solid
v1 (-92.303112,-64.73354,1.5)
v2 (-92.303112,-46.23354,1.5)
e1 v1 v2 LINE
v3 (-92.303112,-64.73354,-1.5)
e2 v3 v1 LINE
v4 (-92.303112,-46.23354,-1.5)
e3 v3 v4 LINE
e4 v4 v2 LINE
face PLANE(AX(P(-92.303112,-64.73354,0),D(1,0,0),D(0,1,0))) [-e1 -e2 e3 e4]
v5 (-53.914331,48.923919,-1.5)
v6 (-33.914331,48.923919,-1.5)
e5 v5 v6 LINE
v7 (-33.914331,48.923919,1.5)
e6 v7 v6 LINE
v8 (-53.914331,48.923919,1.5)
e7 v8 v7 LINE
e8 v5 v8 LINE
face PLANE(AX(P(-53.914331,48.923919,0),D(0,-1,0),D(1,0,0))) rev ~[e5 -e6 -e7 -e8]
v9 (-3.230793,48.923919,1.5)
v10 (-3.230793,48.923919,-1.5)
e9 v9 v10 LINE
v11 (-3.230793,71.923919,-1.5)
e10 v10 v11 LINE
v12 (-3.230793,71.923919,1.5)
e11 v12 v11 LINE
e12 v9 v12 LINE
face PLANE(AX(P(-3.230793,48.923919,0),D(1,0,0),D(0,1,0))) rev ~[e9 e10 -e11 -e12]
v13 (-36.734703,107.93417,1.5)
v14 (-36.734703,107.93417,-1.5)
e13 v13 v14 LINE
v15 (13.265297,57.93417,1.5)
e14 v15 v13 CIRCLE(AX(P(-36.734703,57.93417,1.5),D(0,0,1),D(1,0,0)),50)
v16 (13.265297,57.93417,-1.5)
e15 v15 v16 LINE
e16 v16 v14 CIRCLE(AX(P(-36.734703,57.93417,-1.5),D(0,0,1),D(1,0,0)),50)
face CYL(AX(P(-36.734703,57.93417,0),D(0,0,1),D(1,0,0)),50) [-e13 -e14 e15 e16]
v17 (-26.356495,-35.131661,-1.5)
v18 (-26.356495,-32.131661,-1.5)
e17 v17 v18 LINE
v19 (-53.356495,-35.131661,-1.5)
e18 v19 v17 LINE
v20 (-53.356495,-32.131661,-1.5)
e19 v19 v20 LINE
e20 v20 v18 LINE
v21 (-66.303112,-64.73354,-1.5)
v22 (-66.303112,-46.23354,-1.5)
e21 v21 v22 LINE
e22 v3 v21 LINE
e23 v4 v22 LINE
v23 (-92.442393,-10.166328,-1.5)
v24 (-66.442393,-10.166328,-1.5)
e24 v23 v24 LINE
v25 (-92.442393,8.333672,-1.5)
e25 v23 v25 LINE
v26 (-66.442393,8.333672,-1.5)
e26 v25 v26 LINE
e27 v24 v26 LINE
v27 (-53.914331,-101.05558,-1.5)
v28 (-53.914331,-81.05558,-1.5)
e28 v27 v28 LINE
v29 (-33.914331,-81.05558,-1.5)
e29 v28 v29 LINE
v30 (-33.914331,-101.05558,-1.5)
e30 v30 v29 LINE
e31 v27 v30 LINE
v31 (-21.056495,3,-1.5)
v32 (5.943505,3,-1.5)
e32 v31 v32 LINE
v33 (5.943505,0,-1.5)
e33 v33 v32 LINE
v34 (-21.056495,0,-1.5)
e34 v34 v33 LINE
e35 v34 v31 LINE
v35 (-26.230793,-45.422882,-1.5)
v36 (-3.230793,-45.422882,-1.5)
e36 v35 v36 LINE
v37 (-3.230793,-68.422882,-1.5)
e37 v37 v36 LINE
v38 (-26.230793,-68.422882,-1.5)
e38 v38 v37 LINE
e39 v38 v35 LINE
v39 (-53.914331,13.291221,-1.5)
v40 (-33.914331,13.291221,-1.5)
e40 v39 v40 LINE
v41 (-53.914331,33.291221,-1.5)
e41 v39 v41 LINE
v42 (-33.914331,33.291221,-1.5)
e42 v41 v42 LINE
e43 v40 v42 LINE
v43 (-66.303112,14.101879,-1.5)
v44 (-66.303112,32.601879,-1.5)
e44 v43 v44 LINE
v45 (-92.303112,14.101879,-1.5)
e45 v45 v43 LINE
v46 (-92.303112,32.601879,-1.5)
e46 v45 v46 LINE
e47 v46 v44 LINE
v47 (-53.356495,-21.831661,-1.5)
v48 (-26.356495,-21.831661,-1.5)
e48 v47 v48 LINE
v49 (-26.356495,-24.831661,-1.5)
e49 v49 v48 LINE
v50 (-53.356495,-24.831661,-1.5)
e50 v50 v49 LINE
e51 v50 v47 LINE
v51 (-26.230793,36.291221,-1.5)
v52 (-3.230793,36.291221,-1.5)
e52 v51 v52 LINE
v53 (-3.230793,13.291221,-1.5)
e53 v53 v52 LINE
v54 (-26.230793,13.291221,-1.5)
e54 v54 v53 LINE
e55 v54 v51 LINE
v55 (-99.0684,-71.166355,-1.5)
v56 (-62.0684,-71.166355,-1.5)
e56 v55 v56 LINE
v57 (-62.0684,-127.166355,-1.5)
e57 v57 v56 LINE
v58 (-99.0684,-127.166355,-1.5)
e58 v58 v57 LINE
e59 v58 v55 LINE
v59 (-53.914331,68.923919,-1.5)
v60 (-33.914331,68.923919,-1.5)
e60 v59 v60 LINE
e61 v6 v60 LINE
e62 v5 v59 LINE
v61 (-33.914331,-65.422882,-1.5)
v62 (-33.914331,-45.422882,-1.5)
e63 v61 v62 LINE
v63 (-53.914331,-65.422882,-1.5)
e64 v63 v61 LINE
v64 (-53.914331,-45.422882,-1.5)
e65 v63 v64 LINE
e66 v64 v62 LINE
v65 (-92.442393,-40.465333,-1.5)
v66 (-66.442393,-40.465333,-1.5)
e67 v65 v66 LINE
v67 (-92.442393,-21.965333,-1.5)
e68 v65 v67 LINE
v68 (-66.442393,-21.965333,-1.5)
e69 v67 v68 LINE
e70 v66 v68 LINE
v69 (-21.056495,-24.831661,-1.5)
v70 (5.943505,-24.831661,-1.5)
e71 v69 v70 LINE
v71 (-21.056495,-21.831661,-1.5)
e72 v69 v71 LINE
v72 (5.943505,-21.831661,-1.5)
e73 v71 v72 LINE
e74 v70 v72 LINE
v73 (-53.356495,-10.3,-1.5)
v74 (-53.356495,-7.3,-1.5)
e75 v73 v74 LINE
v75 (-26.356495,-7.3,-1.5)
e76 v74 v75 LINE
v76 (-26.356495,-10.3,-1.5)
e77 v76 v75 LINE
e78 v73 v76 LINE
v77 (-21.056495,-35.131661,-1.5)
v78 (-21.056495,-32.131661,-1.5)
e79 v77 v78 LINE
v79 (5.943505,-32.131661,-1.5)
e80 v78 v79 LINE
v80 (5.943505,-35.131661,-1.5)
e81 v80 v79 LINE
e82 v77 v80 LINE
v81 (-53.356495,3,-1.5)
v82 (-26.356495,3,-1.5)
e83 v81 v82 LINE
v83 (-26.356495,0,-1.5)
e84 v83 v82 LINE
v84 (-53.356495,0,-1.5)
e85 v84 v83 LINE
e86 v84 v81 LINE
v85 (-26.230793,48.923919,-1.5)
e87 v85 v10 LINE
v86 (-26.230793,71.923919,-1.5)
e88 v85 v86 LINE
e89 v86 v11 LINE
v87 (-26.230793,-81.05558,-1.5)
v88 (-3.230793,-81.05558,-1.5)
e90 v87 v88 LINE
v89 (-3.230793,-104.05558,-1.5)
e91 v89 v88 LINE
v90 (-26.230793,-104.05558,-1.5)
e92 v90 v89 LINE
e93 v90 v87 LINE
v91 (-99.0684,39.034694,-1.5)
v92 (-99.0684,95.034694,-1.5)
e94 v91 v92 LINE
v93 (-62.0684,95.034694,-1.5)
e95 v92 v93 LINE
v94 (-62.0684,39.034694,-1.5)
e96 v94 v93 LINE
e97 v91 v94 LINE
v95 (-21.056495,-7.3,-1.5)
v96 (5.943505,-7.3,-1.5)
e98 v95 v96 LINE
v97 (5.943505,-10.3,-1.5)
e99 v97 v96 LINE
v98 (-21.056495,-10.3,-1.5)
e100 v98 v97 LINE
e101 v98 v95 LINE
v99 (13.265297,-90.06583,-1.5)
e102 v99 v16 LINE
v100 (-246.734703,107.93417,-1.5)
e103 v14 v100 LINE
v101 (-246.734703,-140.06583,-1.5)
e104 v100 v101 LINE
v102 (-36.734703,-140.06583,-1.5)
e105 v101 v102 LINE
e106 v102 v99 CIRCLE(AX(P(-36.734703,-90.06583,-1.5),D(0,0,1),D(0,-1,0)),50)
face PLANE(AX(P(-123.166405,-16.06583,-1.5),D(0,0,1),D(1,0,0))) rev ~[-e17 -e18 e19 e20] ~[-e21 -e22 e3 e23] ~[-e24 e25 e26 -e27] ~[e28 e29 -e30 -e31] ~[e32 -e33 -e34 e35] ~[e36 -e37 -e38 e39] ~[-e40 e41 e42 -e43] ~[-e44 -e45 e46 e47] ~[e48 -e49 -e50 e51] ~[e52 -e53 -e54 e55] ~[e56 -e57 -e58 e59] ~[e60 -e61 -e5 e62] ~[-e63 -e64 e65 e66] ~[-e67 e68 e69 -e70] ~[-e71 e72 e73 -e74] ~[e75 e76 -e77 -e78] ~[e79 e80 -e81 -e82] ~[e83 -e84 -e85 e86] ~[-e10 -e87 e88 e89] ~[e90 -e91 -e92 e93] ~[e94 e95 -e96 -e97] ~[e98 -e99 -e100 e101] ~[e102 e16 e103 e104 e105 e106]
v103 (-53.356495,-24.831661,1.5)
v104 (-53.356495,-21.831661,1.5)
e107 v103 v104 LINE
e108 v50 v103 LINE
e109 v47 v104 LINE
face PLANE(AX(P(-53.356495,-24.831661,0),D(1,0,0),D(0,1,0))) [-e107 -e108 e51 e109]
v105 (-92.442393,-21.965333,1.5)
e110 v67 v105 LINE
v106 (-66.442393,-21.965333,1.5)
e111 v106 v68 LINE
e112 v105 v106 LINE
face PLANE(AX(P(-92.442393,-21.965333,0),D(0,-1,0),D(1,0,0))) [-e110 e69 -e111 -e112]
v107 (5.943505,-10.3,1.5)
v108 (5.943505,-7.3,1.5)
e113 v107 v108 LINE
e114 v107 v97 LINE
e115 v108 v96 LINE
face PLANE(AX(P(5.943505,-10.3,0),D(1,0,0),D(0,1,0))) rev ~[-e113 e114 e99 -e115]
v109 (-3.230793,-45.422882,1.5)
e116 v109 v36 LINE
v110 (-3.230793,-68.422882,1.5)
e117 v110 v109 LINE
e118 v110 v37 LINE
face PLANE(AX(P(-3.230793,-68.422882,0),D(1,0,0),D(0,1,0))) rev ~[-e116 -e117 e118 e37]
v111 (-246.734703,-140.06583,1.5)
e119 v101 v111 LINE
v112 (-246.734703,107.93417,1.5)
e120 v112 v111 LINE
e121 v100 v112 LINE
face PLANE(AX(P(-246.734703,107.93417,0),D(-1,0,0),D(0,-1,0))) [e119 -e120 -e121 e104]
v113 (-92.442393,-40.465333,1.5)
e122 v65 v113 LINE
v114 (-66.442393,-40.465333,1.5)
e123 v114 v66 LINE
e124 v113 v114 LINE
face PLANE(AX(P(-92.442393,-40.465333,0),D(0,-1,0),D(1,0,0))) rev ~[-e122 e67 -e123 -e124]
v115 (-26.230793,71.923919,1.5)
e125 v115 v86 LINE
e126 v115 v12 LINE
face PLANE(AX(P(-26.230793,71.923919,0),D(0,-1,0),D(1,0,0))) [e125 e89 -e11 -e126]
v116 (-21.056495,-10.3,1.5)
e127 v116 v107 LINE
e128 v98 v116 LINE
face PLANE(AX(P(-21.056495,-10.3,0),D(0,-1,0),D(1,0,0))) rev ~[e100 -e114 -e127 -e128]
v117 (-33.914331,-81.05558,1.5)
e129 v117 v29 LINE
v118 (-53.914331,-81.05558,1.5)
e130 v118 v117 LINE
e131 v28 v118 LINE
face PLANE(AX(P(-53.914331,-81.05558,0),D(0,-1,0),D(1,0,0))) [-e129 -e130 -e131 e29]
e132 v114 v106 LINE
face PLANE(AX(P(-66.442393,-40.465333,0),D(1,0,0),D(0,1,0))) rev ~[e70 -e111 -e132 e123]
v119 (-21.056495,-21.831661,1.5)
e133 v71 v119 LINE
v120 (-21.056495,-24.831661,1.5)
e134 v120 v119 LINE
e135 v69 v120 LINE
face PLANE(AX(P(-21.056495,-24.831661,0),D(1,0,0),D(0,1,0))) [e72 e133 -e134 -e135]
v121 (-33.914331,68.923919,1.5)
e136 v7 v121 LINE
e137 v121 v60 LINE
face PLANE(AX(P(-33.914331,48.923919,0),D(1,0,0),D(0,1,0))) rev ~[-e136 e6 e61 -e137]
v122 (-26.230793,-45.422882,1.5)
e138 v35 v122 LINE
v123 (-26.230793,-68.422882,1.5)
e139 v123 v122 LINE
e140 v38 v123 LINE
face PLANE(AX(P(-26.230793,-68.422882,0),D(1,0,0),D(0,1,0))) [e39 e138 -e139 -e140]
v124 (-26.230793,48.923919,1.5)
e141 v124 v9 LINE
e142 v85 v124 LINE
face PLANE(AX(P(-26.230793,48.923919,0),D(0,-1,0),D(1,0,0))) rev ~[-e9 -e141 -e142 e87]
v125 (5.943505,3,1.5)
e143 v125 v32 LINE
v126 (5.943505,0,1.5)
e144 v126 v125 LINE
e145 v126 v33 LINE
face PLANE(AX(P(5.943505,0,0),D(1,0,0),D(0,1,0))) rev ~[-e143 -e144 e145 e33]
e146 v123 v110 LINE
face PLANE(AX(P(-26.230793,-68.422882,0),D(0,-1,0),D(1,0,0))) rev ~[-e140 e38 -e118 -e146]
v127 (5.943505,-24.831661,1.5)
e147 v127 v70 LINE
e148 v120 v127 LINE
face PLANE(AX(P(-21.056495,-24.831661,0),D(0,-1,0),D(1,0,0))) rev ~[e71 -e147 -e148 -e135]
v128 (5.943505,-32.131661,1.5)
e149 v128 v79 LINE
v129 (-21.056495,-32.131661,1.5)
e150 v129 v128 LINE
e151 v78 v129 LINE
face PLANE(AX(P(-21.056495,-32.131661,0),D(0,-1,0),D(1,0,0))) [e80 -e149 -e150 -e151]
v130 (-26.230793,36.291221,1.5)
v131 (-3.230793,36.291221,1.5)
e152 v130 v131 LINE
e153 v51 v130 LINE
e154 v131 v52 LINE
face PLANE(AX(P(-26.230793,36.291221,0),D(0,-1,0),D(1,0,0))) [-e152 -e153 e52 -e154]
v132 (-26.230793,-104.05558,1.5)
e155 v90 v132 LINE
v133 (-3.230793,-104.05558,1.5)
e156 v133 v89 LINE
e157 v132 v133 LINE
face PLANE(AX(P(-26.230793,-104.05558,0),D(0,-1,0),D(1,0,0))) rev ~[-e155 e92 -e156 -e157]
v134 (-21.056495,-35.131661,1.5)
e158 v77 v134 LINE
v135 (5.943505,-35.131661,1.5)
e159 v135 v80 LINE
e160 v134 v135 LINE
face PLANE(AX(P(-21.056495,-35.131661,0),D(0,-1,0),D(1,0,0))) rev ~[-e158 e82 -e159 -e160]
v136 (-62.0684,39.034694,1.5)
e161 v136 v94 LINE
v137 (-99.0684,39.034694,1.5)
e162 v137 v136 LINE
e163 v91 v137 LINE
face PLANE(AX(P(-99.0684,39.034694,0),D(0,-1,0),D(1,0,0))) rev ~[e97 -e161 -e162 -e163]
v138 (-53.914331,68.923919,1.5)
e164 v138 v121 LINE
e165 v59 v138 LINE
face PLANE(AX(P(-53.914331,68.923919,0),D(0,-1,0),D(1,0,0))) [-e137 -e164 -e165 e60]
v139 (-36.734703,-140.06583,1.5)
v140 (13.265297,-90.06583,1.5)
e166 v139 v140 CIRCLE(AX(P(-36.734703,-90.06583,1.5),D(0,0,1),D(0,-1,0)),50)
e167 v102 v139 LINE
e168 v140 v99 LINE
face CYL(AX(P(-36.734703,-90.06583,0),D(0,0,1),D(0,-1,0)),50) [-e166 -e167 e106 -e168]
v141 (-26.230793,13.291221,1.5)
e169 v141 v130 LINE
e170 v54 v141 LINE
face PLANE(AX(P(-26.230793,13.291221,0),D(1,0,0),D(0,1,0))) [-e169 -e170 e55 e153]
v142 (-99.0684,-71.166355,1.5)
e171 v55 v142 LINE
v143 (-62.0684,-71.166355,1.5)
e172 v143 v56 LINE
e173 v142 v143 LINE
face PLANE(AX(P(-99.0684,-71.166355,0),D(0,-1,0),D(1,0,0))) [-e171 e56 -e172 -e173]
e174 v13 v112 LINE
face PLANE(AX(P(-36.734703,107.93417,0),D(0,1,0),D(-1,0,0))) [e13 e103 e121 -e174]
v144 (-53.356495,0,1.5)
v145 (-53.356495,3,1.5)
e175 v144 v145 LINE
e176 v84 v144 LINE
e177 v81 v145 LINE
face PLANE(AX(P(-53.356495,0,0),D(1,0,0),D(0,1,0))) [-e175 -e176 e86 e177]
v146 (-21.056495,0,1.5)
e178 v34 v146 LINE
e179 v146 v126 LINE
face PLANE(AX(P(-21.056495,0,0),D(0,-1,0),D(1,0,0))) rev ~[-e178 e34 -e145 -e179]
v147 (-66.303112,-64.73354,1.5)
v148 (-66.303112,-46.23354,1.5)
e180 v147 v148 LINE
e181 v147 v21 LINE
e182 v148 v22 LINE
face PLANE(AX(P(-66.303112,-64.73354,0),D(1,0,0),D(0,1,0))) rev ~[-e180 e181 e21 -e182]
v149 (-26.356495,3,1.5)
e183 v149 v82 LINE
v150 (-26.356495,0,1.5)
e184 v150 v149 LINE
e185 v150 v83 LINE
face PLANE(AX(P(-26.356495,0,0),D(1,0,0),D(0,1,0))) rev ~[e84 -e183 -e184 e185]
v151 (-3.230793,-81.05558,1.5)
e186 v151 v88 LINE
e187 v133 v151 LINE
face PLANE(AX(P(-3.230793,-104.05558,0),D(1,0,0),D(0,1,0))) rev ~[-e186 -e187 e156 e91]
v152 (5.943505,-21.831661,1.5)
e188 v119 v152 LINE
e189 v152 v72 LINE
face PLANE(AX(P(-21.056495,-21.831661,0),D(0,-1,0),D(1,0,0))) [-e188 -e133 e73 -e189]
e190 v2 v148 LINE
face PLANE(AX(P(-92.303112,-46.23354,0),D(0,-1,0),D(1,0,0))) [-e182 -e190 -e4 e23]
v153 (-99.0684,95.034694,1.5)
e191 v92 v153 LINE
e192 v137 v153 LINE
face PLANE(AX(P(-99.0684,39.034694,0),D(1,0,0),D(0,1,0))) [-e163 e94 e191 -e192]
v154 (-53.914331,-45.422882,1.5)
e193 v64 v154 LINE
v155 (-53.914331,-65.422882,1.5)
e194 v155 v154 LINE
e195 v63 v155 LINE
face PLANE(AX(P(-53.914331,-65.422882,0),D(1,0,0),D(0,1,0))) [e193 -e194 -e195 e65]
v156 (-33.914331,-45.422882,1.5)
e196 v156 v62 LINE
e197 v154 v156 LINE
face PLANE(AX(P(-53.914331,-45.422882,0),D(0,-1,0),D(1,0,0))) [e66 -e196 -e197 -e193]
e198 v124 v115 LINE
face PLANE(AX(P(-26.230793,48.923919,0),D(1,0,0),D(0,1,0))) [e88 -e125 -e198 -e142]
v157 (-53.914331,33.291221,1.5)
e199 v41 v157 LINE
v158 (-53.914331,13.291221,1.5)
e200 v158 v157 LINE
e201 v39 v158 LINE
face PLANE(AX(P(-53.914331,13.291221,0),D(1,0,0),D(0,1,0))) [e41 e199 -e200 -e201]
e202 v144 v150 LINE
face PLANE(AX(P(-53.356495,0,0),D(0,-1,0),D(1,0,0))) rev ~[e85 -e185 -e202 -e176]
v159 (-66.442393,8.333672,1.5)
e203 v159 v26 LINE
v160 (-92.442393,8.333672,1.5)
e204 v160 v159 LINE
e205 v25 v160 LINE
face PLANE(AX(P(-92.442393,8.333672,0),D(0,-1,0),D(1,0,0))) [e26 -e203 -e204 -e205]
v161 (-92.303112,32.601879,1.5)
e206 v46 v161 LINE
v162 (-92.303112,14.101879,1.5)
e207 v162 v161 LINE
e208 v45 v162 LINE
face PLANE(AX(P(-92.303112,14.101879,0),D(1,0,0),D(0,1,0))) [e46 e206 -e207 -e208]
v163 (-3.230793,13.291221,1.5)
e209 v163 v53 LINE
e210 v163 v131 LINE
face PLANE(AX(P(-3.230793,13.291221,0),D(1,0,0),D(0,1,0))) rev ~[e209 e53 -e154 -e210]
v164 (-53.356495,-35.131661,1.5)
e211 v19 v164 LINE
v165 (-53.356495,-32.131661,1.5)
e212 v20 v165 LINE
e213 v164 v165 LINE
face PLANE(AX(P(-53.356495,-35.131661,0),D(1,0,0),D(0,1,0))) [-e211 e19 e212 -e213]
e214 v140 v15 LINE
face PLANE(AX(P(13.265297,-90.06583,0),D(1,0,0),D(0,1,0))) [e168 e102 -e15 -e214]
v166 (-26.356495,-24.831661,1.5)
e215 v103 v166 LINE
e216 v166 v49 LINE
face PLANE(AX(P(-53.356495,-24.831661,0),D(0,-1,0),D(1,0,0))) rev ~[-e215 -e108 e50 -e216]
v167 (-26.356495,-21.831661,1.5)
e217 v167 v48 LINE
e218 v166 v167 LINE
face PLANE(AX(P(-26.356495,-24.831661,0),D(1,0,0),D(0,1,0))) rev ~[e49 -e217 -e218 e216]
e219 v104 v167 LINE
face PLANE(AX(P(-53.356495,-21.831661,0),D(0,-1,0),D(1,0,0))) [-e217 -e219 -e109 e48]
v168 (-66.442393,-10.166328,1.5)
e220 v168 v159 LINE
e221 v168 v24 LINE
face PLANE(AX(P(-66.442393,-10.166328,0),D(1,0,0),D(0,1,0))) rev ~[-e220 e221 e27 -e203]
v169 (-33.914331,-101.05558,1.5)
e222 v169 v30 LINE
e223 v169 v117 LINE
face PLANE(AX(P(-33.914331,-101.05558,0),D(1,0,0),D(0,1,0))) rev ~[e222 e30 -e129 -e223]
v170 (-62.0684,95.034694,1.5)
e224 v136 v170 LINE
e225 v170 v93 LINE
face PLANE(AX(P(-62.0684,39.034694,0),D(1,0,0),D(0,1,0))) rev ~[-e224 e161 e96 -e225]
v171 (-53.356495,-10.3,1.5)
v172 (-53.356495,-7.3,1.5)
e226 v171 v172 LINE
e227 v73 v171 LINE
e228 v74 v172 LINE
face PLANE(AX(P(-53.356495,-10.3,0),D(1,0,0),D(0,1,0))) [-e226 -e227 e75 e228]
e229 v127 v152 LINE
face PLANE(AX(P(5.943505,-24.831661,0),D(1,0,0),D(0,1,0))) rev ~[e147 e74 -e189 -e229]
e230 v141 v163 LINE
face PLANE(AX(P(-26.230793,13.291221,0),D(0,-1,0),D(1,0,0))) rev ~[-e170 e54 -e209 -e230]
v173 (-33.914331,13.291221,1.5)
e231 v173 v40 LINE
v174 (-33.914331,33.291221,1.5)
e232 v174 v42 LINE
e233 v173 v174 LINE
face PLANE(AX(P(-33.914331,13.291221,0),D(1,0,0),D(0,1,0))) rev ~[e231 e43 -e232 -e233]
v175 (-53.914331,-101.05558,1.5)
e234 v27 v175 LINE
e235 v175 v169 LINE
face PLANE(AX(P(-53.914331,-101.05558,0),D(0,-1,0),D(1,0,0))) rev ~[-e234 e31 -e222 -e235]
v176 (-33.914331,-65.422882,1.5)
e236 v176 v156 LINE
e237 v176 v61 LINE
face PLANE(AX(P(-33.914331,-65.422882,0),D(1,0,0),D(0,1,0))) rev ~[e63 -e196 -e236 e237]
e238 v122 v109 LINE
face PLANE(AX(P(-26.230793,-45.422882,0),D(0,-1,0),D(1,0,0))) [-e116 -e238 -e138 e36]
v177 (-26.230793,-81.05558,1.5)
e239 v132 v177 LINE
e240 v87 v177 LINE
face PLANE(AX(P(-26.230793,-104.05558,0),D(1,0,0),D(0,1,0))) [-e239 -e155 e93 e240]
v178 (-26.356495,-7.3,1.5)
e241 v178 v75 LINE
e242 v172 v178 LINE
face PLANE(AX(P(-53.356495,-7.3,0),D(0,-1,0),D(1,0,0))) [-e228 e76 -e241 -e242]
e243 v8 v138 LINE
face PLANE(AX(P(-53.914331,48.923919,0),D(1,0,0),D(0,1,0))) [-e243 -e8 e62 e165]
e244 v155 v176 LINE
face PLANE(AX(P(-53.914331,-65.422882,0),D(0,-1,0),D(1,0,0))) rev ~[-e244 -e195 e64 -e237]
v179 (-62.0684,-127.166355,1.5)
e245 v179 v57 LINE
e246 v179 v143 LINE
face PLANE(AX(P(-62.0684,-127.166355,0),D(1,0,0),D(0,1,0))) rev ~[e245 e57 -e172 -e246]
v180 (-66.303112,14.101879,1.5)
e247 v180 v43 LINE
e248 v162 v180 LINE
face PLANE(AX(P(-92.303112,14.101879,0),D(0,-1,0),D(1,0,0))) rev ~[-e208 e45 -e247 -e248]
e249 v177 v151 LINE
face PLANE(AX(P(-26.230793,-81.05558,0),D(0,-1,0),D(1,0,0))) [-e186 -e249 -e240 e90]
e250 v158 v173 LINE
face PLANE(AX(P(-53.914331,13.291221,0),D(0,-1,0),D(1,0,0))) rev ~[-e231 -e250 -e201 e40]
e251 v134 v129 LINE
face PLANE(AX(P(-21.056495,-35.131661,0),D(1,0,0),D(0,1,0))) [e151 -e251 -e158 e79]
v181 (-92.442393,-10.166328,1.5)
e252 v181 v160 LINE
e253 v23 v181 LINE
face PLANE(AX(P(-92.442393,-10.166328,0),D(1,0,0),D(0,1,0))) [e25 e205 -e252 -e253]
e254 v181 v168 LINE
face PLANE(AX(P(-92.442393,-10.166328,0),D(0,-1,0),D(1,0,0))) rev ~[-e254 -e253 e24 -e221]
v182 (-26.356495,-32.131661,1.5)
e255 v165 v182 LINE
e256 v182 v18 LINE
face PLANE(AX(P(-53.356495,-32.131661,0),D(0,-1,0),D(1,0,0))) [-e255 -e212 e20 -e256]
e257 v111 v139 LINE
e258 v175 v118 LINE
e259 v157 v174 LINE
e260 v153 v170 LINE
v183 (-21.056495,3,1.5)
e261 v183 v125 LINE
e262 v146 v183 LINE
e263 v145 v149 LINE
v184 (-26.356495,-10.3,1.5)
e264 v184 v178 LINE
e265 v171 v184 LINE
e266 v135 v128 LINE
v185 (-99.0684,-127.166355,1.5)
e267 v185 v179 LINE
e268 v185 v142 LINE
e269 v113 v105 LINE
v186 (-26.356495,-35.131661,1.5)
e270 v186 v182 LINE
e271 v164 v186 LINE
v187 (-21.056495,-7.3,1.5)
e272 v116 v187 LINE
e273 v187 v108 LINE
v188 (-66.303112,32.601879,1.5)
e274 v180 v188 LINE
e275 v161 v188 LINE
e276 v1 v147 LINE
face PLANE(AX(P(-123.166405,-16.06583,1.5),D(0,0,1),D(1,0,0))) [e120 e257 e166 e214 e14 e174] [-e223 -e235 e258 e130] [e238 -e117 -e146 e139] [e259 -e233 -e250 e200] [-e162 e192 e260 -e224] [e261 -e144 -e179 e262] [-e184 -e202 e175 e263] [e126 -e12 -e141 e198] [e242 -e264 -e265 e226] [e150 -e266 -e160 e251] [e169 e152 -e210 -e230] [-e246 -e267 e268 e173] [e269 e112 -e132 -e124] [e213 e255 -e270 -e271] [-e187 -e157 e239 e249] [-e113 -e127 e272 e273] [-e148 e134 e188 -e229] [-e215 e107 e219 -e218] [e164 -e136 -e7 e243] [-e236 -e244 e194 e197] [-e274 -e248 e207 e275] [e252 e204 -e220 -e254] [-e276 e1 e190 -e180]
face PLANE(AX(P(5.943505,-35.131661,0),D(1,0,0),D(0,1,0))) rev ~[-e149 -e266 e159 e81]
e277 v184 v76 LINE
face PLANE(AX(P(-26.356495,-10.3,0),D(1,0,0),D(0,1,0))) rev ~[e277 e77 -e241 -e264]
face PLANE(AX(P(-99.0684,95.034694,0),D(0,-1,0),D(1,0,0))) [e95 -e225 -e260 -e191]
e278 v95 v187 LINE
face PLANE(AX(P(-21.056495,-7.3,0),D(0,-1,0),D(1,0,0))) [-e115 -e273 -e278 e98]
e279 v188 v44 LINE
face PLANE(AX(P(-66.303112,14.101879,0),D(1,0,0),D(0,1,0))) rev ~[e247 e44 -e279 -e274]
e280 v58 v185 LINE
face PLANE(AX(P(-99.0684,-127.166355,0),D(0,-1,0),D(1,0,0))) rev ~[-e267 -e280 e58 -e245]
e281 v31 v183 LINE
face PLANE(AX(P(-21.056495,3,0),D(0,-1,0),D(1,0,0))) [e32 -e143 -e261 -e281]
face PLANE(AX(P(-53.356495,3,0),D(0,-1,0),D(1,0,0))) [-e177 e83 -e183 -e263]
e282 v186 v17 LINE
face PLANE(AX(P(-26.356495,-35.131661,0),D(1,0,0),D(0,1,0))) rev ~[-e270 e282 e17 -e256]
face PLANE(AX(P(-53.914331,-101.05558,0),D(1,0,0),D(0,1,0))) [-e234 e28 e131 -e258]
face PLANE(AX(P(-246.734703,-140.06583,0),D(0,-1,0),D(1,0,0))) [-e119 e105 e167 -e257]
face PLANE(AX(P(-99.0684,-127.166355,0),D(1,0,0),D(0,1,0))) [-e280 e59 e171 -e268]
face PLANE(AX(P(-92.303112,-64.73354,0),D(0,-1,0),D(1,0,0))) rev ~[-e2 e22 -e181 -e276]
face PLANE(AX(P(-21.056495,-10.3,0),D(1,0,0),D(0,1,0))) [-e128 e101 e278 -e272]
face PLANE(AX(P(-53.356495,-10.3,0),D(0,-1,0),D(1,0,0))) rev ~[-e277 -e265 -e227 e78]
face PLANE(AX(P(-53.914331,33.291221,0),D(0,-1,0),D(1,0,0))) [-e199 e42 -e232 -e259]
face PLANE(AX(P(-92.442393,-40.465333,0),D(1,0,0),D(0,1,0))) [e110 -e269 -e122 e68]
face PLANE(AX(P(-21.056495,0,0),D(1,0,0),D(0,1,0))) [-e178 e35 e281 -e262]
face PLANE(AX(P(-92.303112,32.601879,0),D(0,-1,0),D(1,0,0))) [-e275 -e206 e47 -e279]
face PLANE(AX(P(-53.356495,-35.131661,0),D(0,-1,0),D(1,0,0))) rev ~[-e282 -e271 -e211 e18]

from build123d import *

# Parameters (mm, degrees)
F0_W     = 37
F0_H     = 56
F0_W_2   = 20
F0_H_2   = 20
F0_W_3   = 23
F0_H_3   = 23
F0_W_4   = 26
F0_H_4   = 18.5
F0_W_5   = 27
F0_H_5   = 3
F1_DEPTH = 1.5


with BuildPart() as f1:
    # F0 (on Top) → F1 (new body, symmetric)
    with BuildSketch(Plane.XY):
        with BuildLine():
            Line((-36.7347033552, 107.9341696352), (-246.7347033552, 107.9341696352))
            Line((-246.7347033552, 107.9341696352), (-246.7347033552, -140.0658303648))
            Line((-246.7347033552, -140.0658303648), (-36.7347033552, -140.0658303648))
            ThreePointArc((-36.7347033552, -140.0658303648), (-1.3793642959, -125.4211694242), (13.2652966448, -90.0658303648))
            Line((13.2652966448, -90.0658303648), (13.2652966448, 57.9341696352))
            ThreePointArc((13.2652966448, 57.9341696352), (-1.3793642959, 93.2895086945), (-36.7347033552, 107.9341696352))
        make_face()
        with Locations((-80.5683995187, -99.1663551629)):
            Rectangle(F0_W, F0_H, mode=Mode.SUBTRACT)
        with Locations((-43.9143308997, -91.0555796049)):
            Rectangle(F0_W_2, F0_H_2, mode=Mode.SUBTRACT)
        with Locations((-14.7307934463, -92.5555796049)):
            Rectangle(F0_W_3, F0_H_3, mode=Mode.SUBTRACT)
        with Locations((-79.3031121492, -55.4835397024)):
            Rectangle(F0_W_4, F0_H_4, mode=Mode.SUBTRACT)
        with Locations((-79.4423933029, -31.2153330278)):
            Rectangle(F0_W_4, F0_H_4, mode=Mode.SUBTRACT)
        with Locations((-43.9143308997, -55.4228818417)):
            Rectangle(F0_W_2, F0_H_2, mode=Mode.SUBTRACT)
        with Locations((-14.7307934463, -56.9228818417)):
            Rectangle(F0_W_3, F0_H_3, mode=Mode.SUBTRACT)
        with Locations((-39.8564947546, -33.6316607296)):
            Rectangle(F0_W_5, F0_H_5, mode=Mode.SUBTRACT)
        with Locations((-39.8564947546, -23.3316607296)):
            Rectangle(F0_W_5, F0_H_5, mode=Mode.SUBTRACT)
        with Locations((-7.5564947546, -33.6316607296)):
            Rectangle(F0_W_5, F0_H_5, mode=Mode.SUBTRACT)
        with Locations((-7.5564947546, -23.3316607296)):
            Rectangle(F0_W_5, F0_H_5, mode=Mode.SUBTRACT)
        with Locations((-79.4423933029, -0.9163277019)):
            Rectangle(F0_W_4, F0_H_4, mode=Mode.SUBTRACT)
        with Locations((-79.3031121492, 23.3518789727)):
            Rectangle(F0_W_4, F0_H_4, mode=Mode.SUBTRACT)
        with Locations((-39.8564947546, -8.8)):
            Rectangle(F0_W_5, F0_H_5, mode=Mode.SUBTRACT)
        with Locations((-39.8564947546, 1.5)):
            Rectangle(F0_W_5, F0_H_5, mode=Mode.SUBTRACT)
        with Locations((-7.5564947546, -8.8)):
            Rectangle(F0_W_5, F0_H_5, mode=Mode.SUBTRACT)
        with Locations((-7.5564947546, 1.5)):
            Rectangle(F0_W_5, F0_H_5, mode=Mode.SUBTRACT)
        with Locations((-43.9143308997, 23.291221112)):
            Rectangle(F0_W_2, F0_H_2, mode=Mode.SUBTRACT)
        with Locations((-14.7307934463, 24.791221112)):
            Rectangle(F0_W_3, F0_H_3, mode=Mode.SUBTRACT)
        with Locations((-80.5683995187, 67.0346944332)):
            Rectangle(F0_W, F0_H, mode=Mode.SUBTRACT)
        with Locations((-43.9143308997, 58.9239188753)):
            Rectangle(F0_W_2, F0_H_2, mode=Mode.SUBTRACT)
        with Locations((-14.7307934463, 60.4239188753)):
            Rectangle(F0_W_3, F0_H_3, mode=Mode.SUBTRACT)
    extrude(amount=F1_DEPTH, both=True)


solid = f1.part
